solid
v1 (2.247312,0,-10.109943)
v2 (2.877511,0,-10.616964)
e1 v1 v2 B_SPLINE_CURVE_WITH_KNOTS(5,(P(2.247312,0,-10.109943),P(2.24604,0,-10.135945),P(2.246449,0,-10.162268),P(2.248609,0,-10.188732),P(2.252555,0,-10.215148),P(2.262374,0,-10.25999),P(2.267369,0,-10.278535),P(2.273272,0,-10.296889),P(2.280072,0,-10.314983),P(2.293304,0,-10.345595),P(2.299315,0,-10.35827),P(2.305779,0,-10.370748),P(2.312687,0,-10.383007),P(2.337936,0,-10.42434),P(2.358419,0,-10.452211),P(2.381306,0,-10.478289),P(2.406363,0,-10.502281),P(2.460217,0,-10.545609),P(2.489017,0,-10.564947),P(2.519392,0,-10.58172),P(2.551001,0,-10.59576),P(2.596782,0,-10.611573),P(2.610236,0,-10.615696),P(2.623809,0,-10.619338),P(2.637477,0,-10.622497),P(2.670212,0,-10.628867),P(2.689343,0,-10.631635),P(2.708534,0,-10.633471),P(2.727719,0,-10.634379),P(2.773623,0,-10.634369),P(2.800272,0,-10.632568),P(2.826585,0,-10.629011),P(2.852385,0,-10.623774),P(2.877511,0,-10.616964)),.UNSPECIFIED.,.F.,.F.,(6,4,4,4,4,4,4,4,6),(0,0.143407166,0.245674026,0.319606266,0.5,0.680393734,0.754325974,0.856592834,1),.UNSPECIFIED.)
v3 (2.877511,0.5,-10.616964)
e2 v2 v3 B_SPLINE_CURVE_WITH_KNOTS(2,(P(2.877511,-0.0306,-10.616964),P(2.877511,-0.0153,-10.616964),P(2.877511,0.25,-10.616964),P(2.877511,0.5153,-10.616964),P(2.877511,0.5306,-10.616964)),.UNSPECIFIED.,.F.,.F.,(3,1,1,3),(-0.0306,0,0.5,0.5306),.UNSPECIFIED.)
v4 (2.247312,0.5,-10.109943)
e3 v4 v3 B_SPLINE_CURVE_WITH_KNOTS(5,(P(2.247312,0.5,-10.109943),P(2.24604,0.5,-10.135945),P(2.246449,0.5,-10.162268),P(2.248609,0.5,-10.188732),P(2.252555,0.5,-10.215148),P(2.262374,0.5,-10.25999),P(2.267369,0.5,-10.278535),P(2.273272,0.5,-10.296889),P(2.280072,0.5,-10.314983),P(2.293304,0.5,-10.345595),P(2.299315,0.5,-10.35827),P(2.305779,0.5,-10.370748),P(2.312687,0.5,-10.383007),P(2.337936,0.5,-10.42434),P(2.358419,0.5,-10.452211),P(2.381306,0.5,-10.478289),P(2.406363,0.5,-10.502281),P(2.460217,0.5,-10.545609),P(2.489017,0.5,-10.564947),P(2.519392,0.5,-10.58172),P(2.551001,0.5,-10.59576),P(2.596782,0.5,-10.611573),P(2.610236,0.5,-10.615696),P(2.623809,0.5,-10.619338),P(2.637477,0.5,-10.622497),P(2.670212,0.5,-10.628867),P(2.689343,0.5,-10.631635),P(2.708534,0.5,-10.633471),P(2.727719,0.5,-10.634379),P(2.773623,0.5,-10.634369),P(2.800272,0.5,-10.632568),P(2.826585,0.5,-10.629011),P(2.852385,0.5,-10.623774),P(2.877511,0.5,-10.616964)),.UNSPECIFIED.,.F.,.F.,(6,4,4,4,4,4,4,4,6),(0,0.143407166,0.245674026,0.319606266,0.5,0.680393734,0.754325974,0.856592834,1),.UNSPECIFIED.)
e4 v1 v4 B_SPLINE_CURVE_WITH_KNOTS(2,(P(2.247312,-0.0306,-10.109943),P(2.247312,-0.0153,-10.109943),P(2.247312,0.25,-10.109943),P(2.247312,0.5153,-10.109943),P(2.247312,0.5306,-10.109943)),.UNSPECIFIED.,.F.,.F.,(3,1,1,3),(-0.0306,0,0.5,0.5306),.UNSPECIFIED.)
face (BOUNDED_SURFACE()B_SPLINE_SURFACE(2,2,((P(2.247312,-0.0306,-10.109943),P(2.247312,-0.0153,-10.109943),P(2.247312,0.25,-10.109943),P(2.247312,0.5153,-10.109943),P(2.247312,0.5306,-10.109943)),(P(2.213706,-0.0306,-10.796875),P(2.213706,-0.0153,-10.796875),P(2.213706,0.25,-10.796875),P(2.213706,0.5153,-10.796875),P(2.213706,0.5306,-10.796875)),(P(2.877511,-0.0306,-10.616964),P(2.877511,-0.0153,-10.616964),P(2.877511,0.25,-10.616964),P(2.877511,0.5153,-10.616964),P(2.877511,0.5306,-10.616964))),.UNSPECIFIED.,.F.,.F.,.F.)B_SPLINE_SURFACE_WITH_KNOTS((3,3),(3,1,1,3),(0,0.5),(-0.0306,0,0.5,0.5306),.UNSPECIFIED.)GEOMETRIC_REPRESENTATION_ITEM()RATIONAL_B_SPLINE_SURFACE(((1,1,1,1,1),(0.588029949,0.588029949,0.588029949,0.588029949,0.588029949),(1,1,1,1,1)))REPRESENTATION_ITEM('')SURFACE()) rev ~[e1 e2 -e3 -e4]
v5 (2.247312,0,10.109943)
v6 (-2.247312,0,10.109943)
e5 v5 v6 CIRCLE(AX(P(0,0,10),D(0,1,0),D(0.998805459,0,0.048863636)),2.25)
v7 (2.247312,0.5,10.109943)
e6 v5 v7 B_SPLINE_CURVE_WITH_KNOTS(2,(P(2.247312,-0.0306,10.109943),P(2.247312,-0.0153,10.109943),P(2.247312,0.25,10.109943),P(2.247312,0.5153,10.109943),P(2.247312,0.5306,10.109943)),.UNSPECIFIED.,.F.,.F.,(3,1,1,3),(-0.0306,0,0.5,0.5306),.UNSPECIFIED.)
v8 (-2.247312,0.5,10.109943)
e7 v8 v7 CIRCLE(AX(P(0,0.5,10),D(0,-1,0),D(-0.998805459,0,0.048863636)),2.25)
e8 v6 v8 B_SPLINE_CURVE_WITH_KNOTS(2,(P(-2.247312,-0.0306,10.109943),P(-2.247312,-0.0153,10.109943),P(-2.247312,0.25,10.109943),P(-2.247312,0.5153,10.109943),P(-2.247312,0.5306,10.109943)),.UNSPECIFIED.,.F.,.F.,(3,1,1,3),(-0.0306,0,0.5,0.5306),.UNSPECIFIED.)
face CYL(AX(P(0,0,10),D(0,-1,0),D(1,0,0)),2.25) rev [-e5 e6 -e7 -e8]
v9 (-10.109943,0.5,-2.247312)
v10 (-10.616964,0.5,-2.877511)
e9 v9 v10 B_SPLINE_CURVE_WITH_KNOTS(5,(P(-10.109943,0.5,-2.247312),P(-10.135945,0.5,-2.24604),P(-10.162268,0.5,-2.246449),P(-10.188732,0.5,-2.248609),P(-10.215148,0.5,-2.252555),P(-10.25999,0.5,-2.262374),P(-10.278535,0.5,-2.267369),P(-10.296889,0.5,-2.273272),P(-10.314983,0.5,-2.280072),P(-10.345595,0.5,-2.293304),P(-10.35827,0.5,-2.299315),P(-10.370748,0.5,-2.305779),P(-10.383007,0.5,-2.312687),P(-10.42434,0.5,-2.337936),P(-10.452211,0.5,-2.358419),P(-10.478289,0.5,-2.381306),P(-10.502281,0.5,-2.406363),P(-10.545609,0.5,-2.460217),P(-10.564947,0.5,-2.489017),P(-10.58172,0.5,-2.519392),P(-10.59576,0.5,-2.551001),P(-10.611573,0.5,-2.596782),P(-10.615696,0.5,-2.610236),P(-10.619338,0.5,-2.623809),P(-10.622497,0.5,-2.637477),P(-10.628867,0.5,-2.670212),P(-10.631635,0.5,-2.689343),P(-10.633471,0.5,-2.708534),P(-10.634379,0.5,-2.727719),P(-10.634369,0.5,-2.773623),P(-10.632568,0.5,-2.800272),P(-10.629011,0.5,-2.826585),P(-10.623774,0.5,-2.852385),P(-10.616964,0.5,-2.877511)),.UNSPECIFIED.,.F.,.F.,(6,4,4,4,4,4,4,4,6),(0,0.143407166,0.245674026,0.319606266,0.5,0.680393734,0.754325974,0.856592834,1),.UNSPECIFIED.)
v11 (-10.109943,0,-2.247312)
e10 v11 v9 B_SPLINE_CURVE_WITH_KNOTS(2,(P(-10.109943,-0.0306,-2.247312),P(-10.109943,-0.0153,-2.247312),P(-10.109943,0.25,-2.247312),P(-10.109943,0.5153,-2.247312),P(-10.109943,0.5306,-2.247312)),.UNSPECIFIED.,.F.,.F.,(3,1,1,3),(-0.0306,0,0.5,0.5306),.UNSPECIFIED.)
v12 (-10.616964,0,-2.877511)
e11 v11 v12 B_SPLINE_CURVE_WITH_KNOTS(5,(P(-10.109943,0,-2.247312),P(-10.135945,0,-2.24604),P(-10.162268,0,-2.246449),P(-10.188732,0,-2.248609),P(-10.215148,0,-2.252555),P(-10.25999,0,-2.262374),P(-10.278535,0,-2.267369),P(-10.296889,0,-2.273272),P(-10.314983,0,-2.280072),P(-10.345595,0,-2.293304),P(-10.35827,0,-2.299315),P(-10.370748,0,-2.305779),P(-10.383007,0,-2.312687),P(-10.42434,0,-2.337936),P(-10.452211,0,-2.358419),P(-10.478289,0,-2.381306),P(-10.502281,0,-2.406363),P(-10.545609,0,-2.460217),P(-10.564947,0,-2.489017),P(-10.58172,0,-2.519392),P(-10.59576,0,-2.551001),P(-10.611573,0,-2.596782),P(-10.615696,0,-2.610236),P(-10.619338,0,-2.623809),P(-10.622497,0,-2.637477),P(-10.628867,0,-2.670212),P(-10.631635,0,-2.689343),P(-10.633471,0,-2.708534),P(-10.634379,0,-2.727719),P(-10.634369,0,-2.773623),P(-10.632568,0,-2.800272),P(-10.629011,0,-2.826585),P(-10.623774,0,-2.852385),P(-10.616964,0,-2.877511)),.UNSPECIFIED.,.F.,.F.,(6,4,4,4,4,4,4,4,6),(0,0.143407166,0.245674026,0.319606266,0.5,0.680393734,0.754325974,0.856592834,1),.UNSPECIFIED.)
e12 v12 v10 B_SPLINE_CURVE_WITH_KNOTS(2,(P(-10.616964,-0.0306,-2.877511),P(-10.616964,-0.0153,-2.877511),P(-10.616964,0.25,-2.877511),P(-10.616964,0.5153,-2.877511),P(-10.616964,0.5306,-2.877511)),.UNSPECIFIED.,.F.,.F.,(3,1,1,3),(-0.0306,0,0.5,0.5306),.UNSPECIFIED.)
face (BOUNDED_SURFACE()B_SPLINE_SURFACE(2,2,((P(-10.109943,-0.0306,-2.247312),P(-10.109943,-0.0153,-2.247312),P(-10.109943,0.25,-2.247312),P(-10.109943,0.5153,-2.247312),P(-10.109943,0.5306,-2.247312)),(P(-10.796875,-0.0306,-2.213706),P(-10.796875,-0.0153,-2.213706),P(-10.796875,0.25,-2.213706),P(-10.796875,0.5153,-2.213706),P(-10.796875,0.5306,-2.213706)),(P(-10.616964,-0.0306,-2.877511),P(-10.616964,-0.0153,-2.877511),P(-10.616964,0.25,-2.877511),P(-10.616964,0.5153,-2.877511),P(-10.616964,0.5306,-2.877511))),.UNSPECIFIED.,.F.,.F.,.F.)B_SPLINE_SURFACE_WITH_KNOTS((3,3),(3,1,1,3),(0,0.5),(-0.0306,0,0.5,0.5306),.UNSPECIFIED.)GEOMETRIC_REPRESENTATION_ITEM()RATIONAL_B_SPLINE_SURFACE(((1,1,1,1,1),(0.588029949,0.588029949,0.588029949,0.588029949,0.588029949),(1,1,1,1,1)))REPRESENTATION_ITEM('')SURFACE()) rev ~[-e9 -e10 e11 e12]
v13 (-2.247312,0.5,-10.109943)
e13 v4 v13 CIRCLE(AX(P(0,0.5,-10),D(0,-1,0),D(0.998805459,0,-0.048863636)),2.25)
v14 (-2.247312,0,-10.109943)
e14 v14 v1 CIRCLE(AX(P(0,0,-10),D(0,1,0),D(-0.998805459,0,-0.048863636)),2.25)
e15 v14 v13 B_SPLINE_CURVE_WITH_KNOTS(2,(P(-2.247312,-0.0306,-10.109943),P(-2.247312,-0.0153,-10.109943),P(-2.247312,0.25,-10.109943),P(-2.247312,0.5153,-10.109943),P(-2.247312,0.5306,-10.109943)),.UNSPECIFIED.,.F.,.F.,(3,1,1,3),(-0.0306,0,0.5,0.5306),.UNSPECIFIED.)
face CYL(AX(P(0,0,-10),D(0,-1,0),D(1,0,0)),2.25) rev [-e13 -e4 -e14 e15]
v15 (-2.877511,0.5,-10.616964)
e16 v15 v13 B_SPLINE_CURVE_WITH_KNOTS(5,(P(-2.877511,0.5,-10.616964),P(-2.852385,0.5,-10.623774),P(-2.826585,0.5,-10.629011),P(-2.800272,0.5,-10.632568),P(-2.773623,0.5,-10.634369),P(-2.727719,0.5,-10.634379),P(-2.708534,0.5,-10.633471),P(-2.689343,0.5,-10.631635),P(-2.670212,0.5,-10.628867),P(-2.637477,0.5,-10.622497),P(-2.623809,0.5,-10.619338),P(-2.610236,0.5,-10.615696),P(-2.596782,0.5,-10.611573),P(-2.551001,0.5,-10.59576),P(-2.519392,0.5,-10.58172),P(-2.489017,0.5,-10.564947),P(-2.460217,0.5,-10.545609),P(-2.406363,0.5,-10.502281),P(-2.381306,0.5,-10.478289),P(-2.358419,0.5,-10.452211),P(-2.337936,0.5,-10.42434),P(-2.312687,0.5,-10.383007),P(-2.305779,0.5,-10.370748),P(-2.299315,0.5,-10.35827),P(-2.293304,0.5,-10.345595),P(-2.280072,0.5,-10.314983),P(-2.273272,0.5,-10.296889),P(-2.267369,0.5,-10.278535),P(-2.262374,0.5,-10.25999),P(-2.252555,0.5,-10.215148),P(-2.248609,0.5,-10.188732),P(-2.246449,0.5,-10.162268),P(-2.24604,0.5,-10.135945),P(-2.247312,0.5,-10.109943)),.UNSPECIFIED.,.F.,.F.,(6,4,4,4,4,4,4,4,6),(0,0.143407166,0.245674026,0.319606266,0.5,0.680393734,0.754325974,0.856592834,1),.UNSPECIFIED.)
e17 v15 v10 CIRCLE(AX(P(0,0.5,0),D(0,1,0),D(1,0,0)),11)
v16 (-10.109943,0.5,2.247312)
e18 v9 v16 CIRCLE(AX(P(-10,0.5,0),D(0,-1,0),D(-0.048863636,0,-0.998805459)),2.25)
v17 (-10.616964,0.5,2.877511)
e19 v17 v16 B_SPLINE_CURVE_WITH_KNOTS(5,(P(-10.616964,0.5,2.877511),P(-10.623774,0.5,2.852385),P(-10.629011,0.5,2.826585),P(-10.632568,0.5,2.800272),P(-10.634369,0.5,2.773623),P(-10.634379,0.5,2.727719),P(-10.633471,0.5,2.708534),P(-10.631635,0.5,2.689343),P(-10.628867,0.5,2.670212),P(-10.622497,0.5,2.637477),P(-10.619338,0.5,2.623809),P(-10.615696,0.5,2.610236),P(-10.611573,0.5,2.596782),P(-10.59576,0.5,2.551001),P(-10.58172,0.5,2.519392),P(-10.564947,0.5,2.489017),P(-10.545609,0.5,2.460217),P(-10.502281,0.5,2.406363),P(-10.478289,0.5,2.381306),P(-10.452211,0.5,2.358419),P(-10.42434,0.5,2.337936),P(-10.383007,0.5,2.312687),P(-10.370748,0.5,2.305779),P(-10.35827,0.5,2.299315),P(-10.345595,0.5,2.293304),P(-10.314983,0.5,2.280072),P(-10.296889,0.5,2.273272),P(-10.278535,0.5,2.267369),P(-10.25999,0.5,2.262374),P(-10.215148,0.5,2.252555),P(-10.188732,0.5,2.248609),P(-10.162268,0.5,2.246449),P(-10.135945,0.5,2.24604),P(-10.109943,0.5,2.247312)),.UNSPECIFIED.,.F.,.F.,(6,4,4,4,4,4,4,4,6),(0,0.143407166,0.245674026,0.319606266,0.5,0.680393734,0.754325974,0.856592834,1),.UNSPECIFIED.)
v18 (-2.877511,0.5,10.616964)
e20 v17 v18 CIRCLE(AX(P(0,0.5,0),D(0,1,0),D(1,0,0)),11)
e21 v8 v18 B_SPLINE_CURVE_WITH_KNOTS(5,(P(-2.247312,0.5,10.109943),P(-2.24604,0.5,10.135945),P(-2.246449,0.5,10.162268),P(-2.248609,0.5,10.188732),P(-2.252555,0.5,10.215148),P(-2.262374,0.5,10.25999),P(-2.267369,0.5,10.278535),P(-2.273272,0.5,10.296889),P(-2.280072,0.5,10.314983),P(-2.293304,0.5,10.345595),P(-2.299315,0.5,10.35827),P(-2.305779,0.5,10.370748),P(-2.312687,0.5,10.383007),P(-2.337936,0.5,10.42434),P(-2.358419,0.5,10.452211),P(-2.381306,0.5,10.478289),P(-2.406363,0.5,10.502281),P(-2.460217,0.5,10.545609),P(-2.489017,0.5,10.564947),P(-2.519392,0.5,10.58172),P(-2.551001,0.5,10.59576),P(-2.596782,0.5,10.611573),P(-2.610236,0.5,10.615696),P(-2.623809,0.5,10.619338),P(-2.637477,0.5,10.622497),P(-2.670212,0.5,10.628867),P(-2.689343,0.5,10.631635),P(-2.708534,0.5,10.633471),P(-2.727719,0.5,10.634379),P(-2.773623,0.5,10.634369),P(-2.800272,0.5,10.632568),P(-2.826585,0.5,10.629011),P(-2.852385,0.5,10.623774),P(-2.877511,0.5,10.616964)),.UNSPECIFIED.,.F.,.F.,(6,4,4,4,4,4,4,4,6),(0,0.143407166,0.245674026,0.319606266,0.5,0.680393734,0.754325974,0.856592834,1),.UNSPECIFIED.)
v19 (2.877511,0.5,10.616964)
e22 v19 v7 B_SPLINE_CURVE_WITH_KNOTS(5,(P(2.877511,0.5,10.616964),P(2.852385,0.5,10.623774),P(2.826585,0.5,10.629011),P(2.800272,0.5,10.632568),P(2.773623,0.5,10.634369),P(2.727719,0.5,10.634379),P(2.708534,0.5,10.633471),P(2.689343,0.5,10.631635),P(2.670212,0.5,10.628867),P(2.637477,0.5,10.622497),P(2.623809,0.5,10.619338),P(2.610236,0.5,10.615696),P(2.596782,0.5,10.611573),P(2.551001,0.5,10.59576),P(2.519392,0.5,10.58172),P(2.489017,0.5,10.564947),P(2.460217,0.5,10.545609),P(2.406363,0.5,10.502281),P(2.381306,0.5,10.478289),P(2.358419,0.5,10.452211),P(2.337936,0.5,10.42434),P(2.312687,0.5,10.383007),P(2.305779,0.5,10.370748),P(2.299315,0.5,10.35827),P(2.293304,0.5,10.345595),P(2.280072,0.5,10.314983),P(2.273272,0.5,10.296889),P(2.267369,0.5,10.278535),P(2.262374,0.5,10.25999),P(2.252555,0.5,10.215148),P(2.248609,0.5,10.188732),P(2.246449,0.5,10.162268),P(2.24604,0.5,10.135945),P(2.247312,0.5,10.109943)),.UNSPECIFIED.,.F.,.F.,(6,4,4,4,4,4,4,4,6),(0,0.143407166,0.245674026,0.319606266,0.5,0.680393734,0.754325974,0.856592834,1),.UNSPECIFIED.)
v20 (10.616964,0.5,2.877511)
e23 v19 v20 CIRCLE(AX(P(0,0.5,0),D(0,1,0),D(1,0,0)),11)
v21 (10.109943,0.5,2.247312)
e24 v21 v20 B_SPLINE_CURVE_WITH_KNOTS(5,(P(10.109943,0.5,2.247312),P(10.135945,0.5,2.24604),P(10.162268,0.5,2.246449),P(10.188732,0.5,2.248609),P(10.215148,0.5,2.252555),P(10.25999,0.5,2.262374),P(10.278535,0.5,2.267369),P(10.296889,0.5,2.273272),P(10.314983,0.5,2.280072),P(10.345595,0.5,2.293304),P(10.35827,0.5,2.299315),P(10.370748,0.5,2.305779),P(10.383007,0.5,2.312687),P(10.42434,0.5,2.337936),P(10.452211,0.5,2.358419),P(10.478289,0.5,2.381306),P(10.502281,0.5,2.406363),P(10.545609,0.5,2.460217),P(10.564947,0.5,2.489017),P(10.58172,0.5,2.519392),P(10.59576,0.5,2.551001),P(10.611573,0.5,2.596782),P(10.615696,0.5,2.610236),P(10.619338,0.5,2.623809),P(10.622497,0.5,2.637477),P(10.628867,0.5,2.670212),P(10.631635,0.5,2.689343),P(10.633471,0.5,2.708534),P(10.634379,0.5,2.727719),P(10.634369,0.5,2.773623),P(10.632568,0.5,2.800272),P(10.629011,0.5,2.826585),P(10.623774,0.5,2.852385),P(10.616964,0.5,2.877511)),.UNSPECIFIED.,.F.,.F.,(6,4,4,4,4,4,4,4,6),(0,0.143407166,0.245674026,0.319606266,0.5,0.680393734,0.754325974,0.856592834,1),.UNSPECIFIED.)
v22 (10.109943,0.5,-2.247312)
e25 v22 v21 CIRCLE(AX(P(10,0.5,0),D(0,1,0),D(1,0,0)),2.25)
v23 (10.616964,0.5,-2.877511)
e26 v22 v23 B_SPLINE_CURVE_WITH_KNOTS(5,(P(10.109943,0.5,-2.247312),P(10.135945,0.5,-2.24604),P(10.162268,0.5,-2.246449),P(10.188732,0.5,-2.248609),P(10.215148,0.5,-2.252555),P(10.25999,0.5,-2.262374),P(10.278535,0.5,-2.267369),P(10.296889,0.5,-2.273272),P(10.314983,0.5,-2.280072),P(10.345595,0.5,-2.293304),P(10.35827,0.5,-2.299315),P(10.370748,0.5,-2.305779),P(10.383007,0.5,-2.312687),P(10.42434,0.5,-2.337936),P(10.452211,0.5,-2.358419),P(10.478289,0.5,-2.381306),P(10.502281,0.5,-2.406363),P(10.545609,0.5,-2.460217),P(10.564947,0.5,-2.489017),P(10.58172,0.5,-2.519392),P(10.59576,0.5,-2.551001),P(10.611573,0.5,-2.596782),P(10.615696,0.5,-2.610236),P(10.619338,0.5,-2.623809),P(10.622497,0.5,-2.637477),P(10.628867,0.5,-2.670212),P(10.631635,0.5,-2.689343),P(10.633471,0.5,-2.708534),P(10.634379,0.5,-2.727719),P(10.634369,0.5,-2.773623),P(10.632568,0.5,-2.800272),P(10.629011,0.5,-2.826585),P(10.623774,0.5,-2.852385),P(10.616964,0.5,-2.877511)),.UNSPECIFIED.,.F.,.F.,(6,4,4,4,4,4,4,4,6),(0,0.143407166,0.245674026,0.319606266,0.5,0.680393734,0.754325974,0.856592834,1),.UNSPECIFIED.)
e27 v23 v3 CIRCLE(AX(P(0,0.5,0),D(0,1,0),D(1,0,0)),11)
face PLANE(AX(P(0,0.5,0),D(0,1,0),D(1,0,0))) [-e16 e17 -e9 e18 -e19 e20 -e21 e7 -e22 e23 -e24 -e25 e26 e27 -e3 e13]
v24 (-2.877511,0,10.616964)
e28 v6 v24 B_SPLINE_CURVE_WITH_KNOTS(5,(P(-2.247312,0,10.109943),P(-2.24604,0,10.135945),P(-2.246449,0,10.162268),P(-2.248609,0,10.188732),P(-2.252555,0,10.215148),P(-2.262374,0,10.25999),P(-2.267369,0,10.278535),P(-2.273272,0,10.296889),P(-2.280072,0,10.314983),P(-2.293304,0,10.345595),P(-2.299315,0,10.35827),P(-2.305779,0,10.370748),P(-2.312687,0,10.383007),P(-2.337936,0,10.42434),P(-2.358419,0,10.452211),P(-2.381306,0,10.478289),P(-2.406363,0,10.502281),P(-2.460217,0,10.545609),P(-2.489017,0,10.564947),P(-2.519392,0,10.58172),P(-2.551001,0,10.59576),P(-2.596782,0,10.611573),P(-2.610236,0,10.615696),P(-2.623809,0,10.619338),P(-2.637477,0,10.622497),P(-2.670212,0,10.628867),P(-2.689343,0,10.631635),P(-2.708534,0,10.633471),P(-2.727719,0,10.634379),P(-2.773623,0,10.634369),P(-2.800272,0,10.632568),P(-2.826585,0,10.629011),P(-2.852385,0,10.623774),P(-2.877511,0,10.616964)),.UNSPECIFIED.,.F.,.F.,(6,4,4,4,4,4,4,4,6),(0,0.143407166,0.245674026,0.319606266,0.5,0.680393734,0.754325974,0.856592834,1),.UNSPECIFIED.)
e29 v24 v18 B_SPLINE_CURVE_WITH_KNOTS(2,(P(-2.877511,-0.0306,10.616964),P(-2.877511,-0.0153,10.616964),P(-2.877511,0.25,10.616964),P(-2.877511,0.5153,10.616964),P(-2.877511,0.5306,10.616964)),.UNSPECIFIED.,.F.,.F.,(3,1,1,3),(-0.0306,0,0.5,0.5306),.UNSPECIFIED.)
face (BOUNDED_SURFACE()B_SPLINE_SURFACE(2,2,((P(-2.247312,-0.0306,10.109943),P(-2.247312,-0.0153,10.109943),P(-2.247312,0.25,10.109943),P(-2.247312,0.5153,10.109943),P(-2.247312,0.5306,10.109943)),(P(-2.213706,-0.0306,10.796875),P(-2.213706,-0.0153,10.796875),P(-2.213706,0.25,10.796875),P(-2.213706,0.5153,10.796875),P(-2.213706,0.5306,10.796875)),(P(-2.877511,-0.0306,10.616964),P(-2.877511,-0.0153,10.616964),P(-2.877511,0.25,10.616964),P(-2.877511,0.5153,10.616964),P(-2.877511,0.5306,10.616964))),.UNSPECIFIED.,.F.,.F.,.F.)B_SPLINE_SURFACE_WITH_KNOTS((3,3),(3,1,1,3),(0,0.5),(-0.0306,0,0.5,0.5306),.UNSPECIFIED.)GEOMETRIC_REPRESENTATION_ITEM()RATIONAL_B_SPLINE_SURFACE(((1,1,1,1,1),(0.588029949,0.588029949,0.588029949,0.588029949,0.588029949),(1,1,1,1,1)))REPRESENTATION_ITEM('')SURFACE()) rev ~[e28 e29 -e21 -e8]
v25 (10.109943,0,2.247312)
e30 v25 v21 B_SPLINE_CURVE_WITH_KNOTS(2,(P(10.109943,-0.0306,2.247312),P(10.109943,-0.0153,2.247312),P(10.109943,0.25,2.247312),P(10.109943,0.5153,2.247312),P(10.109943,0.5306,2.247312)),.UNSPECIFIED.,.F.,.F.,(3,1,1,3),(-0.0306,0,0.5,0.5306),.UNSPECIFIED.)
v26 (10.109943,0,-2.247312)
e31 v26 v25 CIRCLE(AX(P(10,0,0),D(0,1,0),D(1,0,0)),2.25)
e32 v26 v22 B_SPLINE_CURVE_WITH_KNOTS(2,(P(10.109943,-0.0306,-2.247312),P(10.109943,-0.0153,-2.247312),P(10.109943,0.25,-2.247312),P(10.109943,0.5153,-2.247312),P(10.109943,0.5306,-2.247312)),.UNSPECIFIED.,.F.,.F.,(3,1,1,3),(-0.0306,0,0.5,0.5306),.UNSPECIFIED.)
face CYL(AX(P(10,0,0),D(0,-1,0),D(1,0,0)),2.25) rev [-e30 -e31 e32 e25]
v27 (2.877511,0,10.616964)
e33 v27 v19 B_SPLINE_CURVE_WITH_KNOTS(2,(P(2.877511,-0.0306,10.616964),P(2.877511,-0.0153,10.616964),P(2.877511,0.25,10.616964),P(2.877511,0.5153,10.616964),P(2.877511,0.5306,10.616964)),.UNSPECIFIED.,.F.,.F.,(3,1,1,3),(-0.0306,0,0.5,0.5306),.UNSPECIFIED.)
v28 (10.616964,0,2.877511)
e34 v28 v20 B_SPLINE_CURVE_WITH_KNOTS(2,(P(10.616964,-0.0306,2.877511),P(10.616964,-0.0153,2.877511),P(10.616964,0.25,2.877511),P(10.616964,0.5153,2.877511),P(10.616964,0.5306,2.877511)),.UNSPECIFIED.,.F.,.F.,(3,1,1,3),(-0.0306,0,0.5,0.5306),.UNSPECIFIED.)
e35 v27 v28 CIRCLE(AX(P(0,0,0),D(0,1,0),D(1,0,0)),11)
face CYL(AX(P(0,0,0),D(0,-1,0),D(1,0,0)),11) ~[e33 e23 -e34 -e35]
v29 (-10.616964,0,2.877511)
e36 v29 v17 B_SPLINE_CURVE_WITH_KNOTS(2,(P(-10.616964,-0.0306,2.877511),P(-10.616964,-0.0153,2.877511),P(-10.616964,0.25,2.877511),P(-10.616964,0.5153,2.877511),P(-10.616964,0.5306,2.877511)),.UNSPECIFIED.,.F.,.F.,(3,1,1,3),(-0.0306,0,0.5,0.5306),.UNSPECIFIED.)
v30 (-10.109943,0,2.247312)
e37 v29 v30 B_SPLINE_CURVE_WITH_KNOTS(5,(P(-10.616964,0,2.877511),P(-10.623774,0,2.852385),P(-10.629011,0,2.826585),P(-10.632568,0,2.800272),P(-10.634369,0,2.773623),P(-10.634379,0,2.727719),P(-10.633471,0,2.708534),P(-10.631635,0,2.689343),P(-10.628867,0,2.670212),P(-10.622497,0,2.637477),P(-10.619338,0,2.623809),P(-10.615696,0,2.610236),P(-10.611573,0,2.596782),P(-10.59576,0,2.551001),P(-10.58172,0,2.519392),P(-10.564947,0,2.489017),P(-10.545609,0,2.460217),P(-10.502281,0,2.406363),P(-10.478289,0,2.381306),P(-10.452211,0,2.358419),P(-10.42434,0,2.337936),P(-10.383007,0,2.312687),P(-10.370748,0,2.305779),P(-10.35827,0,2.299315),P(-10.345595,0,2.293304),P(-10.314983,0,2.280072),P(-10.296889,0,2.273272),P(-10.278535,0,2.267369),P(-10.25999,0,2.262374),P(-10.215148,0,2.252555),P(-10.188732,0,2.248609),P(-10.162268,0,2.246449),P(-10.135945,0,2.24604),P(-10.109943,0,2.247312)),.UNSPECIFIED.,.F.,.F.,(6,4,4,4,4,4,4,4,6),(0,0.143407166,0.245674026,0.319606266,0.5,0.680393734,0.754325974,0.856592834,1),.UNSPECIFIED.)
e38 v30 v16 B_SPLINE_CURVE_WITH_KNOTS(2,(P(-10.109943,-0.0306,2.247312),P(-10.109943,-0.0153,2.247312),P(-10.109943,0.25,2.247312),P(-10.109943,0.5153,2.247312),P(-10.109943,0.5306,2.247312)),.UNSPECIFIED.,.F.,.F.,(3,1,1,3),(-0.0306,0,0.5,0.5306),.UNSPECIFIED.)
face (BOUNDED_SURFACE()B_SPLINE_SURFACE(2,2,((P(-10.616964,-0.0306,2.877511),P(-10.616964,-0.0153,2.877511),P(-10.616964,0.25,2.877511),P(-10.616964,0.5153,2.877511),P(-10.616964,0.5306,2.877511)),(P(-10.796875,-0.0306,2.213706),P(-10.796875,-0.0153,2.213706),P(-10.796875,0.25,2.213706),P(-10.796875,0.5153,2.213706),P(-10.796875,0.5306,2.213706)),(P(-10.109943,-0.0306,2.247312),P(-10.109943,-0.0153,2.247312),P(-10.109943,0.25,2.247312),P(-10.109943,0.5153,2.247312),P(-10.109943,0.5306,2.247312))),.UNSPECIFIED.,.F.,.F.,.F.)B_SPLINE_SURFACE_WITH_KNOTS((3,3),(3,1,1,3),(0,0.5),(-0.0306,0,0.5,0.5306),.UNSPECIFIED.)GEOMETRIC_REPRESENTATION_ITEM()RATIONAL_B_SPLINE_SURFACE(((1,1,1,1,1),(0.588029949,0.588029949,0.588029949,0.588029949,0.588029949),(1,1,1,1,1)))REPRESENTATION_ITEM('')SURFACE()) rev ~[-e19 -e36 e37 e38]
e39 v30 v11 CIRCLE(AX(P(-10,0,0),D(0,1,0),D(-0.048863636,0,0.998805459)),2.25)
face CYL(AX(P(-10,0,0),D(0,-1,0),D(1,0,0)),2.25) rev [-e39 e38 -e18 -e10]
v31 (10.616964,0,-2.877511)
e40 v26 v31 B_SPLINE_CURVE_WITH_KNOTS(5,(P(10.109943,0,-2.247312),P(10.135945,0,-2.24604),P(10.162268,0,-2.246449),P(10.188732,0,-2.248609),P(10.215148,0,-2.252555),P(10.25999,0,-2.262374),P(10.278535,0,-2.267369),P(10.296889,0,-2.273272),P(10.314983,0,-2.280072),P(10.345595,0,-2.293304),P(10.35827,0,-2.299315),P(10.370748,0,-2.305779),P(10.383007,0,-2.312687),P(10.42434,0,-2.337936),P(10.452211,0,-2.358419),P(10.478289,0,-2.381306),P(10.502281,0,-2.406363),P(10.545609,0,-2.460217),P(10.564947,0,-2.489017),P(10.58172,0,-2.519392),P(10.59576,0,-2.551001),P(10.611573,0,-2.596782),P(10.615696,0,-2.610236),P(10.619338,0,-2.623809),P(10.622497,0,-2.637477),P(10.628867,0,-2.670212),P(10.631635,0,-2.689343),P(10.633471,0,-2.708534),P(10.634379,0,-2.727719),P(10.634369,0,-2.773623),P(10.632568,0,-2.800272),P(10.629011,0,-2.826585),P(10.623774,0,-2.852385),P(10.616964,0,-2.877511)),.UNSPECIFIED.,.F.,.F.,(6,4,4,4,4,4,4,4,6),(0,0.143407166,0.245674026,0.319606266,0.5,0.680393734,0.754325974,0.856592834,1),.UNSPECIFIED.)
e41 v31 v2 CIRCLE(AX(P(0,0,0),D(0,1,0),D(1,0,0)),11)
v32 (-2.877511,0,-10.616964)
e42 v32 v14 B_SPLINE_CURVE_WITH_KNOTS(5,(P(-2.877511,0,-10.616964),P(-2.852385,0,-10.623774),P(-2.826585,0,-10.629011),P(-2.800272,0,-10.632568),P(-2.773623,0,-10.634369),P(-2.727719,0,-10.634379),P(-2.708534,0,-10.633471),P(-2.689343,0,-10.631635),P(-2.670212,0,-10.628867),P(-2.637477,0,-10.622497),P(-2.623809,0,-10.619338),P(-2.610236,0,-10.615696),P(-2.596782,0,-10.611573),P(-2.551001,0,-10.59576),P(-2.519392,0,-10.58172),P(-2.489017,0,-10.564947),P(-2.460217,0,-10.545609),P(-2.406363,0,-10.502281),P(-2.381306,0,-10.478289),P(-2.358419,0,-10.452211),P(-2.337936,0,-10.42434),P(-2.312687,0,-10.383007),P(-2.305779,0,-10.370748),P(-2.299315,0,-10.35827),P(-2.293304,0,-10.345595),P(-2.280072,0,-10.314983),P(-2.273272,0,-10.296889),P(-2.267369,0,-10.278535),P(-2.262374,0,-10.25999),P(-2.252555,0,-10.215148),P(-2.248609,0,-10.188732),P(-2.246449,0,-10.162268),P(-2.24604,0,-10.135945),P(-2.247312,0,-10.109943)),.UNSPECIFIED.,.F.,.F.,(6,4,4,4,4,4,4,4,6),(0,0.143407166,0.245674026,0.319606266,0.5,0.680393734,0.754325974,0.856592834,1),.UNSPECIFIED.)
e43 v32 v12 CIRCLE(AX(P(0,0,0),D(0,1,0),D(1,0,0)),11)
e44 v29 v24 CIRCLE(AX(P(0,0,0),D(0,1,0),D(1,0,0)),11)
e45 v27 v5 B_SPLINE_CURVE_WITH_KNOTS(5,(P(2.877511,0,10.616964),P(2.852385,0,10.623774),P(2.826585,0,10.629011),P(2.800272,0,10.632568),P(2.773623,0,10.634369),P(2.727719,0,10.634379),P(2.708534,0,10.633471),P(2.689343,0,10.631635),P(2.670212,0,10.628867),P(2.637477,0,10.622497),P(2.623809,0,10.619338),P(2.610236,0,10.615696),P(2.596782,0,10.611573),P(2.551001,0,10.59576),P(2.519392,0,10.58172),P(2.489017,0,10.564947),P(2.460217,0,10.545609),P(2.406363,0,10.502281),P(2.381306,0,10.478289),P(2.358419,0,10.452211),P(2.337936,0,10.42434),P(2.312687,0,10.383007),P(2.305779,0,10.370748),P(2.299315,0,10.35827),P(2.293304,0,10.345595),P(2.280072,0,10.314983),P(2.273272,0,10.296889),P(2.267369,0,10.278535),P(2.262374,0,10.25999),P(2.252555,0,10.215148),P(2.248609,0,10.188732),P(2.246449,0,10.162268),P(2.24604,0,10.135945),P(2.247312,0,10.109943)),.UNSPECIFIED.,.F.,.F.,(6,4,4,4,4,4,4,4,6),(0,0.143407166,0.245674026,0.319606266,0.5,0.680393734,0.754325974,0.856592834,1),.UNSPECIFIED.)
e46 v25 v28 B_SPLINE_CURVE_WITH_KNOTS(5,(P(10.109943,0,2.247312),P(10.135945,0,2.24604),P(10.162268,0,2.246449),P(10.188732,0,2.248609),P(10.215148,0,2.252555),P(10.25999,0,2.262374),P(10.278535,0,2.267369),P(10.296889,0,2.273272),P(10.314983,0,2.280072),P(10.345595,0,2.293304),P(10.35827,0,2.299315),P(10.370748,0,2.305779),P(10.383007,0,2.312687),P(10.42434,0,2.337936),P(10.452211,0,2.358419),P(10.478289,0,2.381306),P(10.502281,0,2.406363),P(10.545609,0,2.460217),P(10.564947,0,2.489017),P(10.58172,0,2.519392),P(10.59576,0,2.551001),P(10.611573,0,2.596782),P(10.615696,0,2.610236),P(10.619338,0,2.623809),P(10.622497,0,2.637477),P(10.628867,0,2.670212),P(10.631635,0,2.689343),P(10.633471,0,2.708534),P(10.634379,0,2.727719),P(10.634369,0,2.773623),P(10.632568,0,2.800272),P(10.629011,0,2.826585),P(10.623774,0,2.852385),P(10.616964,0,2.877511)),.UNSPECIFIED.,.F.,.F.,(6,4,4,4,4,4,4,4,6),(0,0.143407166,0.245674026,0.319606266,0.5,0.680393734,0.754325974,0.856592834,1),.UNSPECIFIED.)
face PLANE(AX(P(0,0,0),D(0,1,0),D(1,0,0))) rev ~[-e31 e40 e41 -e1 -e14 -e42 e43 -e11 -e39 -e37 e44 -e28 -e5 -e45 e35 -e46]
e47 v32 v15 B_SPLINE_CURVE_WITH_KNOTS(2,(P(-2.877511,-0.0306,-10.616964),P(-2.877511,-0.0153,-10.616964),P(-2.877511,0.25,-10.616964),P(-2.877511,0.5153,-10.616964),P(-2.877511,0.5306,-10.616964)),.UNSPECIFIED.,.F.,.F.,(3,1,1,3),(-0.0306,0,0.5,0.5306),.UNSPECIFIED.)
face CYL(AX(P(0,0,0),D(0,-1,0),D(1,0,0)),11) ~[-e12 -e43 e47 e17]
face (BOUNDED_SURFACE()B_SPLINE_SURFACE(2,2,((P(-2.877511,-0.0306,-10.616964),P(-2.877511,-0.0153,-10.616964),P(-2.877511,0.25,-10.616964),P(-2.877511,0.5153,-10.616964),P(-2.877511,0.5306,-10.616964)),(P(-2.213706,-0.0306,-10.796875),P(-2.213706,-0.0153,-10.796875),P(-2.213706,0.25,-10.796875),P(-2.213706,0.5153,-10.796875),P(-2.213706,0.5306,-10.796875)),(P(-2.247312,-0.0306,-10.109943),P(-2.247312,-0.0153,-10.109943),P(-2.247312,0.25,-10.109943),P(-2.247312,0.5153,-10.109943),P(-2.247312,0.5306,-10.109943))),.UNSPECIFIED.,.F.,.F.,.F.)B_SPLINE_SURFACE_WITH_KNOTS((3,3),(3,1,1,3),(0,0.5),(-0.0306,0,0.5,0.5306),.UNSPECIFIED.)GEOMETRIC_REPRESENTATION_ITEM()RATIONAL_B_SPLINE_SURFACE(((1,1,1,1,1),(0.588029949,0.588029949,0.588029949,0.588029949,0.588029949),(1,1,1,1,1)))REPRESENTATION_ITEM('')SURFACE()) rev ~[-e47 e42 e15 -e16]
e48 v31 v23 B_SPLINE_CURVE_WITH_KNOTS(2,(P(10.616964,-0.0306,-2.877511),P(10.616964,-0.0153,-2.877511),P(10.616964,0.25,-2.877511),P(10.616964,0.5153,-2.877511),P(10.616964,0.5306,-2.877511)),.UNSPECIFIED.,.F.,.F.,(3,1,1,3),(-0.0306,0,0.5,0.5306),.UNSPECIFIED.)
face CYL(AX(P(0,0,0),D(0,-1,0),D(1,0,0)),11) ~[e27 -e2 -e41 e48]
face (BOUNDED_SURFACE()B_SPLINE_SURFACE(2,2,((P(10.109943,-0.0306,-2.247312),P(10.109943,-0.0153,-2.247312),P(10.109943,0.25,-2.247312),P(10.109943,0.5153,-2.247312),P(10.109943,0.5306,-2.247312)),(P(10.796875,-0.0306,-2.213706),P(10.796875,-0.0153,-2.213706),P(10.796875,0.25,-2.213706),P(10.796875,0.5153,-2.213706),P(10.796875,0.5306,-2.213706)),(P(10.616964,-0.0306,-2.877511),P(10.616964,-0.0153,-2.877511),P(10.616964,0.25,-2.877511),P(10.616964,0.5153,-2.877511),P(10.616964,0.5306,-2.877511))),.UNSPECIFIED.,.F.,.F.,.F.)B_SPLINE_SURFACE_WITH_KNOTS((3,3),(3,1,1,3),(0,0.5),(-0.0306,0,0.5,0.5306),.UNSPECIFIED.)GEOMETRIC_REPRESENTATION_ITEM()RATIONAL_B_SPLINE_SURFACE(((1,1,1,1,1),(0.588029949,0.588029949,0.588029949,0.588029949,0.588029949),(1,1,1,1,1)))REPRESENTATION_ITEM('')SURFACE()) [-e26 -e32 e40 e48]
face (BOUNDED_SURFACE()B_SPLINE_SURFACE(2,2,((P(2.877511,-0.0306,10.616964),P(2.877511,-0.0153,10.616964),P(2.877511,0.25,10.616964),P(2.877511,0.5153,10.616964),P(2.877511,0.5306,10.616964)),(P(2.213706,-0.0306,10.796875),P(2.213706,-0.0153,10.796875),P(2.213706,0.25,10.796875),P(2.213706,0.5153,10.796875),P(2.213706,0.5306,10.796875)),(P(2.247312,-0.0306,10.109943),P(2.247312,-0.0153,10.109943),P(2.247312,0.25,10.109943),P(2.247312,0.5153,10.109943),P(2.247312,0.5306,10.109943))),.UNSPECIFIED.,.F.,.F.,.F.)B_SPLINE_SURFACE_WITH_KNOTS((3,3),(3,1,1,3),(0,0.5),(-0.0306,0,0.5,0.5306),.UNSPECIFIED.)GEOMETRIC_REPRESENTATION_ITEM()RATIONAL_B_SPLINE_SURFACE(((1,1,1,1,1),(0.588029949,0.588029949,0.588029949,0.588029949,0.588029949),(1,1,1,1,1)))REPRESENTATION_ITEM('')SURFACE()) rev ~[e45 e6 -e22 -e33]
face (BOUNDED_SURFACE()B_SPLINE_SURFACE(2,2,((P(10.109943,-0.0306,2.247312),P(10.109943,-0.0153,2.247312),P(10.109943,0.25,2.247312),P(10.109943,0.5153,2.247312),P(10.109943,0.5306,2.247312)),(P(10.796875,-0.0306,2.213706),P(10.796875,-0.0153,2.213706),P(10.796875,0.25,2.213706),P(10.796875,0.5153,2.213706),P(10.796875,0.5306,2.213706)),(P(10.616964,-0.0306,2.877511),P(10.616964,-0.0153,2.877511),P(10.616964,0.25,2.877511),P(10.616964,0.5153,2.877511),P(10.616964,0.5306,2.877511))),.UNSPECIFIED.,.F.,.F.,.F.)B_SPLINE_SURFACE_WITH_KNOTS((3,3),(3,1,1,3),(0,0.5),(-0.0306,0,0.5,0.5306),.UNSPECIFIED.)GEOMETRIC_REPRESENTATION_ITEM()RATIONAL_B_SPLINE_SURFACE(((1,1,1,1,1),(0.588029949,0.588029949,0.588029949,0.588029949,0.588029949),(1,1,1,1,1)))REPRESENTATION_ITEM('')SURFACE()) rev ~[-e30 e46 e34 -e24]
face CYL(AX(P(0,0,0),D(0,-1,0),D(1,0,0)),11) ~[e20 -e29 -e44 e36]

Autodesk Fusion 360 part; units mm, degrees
sketch "Sketch1" plane through (0, 0, 0) normal (0, 1, 0) x (1, 0, 0)
  circle A0 centre (0, 0) radius 10 construction
  circle A1 centre (10, 0) radius 2.25
  circle A2 centre (0, 10) radius 2.25
  circle A3 centre (-10, 0) radius 2.25
  circle A4 centre (0, -10) radius 2.25
  circle A5 centre (0, 0) radius 11
  dimension "d1" = 20
  dimension "d2" = 4.5
  dimension "d4" = 360
  dimension "d5" = 22
extrude "Extrude1" add sketch "Sketch1" along normal blind 0.5 contours A1 A2 A3 A4 A5
fillet "Fillet1" radius 0.5 8 edges at (-2.1042, 0.25, 10.7969) (2.1042, 0.25, 10.7969) (-10.7969, 0.25, 2.1042) (-10.7969, 0.25, -2.1042) (-2.1042, 0.25, -10.7969) (2.1042, 0.25, -10.7969) (10.7969, 0.25, -2.1042) (10.7969, 0.25, 2.1042)
